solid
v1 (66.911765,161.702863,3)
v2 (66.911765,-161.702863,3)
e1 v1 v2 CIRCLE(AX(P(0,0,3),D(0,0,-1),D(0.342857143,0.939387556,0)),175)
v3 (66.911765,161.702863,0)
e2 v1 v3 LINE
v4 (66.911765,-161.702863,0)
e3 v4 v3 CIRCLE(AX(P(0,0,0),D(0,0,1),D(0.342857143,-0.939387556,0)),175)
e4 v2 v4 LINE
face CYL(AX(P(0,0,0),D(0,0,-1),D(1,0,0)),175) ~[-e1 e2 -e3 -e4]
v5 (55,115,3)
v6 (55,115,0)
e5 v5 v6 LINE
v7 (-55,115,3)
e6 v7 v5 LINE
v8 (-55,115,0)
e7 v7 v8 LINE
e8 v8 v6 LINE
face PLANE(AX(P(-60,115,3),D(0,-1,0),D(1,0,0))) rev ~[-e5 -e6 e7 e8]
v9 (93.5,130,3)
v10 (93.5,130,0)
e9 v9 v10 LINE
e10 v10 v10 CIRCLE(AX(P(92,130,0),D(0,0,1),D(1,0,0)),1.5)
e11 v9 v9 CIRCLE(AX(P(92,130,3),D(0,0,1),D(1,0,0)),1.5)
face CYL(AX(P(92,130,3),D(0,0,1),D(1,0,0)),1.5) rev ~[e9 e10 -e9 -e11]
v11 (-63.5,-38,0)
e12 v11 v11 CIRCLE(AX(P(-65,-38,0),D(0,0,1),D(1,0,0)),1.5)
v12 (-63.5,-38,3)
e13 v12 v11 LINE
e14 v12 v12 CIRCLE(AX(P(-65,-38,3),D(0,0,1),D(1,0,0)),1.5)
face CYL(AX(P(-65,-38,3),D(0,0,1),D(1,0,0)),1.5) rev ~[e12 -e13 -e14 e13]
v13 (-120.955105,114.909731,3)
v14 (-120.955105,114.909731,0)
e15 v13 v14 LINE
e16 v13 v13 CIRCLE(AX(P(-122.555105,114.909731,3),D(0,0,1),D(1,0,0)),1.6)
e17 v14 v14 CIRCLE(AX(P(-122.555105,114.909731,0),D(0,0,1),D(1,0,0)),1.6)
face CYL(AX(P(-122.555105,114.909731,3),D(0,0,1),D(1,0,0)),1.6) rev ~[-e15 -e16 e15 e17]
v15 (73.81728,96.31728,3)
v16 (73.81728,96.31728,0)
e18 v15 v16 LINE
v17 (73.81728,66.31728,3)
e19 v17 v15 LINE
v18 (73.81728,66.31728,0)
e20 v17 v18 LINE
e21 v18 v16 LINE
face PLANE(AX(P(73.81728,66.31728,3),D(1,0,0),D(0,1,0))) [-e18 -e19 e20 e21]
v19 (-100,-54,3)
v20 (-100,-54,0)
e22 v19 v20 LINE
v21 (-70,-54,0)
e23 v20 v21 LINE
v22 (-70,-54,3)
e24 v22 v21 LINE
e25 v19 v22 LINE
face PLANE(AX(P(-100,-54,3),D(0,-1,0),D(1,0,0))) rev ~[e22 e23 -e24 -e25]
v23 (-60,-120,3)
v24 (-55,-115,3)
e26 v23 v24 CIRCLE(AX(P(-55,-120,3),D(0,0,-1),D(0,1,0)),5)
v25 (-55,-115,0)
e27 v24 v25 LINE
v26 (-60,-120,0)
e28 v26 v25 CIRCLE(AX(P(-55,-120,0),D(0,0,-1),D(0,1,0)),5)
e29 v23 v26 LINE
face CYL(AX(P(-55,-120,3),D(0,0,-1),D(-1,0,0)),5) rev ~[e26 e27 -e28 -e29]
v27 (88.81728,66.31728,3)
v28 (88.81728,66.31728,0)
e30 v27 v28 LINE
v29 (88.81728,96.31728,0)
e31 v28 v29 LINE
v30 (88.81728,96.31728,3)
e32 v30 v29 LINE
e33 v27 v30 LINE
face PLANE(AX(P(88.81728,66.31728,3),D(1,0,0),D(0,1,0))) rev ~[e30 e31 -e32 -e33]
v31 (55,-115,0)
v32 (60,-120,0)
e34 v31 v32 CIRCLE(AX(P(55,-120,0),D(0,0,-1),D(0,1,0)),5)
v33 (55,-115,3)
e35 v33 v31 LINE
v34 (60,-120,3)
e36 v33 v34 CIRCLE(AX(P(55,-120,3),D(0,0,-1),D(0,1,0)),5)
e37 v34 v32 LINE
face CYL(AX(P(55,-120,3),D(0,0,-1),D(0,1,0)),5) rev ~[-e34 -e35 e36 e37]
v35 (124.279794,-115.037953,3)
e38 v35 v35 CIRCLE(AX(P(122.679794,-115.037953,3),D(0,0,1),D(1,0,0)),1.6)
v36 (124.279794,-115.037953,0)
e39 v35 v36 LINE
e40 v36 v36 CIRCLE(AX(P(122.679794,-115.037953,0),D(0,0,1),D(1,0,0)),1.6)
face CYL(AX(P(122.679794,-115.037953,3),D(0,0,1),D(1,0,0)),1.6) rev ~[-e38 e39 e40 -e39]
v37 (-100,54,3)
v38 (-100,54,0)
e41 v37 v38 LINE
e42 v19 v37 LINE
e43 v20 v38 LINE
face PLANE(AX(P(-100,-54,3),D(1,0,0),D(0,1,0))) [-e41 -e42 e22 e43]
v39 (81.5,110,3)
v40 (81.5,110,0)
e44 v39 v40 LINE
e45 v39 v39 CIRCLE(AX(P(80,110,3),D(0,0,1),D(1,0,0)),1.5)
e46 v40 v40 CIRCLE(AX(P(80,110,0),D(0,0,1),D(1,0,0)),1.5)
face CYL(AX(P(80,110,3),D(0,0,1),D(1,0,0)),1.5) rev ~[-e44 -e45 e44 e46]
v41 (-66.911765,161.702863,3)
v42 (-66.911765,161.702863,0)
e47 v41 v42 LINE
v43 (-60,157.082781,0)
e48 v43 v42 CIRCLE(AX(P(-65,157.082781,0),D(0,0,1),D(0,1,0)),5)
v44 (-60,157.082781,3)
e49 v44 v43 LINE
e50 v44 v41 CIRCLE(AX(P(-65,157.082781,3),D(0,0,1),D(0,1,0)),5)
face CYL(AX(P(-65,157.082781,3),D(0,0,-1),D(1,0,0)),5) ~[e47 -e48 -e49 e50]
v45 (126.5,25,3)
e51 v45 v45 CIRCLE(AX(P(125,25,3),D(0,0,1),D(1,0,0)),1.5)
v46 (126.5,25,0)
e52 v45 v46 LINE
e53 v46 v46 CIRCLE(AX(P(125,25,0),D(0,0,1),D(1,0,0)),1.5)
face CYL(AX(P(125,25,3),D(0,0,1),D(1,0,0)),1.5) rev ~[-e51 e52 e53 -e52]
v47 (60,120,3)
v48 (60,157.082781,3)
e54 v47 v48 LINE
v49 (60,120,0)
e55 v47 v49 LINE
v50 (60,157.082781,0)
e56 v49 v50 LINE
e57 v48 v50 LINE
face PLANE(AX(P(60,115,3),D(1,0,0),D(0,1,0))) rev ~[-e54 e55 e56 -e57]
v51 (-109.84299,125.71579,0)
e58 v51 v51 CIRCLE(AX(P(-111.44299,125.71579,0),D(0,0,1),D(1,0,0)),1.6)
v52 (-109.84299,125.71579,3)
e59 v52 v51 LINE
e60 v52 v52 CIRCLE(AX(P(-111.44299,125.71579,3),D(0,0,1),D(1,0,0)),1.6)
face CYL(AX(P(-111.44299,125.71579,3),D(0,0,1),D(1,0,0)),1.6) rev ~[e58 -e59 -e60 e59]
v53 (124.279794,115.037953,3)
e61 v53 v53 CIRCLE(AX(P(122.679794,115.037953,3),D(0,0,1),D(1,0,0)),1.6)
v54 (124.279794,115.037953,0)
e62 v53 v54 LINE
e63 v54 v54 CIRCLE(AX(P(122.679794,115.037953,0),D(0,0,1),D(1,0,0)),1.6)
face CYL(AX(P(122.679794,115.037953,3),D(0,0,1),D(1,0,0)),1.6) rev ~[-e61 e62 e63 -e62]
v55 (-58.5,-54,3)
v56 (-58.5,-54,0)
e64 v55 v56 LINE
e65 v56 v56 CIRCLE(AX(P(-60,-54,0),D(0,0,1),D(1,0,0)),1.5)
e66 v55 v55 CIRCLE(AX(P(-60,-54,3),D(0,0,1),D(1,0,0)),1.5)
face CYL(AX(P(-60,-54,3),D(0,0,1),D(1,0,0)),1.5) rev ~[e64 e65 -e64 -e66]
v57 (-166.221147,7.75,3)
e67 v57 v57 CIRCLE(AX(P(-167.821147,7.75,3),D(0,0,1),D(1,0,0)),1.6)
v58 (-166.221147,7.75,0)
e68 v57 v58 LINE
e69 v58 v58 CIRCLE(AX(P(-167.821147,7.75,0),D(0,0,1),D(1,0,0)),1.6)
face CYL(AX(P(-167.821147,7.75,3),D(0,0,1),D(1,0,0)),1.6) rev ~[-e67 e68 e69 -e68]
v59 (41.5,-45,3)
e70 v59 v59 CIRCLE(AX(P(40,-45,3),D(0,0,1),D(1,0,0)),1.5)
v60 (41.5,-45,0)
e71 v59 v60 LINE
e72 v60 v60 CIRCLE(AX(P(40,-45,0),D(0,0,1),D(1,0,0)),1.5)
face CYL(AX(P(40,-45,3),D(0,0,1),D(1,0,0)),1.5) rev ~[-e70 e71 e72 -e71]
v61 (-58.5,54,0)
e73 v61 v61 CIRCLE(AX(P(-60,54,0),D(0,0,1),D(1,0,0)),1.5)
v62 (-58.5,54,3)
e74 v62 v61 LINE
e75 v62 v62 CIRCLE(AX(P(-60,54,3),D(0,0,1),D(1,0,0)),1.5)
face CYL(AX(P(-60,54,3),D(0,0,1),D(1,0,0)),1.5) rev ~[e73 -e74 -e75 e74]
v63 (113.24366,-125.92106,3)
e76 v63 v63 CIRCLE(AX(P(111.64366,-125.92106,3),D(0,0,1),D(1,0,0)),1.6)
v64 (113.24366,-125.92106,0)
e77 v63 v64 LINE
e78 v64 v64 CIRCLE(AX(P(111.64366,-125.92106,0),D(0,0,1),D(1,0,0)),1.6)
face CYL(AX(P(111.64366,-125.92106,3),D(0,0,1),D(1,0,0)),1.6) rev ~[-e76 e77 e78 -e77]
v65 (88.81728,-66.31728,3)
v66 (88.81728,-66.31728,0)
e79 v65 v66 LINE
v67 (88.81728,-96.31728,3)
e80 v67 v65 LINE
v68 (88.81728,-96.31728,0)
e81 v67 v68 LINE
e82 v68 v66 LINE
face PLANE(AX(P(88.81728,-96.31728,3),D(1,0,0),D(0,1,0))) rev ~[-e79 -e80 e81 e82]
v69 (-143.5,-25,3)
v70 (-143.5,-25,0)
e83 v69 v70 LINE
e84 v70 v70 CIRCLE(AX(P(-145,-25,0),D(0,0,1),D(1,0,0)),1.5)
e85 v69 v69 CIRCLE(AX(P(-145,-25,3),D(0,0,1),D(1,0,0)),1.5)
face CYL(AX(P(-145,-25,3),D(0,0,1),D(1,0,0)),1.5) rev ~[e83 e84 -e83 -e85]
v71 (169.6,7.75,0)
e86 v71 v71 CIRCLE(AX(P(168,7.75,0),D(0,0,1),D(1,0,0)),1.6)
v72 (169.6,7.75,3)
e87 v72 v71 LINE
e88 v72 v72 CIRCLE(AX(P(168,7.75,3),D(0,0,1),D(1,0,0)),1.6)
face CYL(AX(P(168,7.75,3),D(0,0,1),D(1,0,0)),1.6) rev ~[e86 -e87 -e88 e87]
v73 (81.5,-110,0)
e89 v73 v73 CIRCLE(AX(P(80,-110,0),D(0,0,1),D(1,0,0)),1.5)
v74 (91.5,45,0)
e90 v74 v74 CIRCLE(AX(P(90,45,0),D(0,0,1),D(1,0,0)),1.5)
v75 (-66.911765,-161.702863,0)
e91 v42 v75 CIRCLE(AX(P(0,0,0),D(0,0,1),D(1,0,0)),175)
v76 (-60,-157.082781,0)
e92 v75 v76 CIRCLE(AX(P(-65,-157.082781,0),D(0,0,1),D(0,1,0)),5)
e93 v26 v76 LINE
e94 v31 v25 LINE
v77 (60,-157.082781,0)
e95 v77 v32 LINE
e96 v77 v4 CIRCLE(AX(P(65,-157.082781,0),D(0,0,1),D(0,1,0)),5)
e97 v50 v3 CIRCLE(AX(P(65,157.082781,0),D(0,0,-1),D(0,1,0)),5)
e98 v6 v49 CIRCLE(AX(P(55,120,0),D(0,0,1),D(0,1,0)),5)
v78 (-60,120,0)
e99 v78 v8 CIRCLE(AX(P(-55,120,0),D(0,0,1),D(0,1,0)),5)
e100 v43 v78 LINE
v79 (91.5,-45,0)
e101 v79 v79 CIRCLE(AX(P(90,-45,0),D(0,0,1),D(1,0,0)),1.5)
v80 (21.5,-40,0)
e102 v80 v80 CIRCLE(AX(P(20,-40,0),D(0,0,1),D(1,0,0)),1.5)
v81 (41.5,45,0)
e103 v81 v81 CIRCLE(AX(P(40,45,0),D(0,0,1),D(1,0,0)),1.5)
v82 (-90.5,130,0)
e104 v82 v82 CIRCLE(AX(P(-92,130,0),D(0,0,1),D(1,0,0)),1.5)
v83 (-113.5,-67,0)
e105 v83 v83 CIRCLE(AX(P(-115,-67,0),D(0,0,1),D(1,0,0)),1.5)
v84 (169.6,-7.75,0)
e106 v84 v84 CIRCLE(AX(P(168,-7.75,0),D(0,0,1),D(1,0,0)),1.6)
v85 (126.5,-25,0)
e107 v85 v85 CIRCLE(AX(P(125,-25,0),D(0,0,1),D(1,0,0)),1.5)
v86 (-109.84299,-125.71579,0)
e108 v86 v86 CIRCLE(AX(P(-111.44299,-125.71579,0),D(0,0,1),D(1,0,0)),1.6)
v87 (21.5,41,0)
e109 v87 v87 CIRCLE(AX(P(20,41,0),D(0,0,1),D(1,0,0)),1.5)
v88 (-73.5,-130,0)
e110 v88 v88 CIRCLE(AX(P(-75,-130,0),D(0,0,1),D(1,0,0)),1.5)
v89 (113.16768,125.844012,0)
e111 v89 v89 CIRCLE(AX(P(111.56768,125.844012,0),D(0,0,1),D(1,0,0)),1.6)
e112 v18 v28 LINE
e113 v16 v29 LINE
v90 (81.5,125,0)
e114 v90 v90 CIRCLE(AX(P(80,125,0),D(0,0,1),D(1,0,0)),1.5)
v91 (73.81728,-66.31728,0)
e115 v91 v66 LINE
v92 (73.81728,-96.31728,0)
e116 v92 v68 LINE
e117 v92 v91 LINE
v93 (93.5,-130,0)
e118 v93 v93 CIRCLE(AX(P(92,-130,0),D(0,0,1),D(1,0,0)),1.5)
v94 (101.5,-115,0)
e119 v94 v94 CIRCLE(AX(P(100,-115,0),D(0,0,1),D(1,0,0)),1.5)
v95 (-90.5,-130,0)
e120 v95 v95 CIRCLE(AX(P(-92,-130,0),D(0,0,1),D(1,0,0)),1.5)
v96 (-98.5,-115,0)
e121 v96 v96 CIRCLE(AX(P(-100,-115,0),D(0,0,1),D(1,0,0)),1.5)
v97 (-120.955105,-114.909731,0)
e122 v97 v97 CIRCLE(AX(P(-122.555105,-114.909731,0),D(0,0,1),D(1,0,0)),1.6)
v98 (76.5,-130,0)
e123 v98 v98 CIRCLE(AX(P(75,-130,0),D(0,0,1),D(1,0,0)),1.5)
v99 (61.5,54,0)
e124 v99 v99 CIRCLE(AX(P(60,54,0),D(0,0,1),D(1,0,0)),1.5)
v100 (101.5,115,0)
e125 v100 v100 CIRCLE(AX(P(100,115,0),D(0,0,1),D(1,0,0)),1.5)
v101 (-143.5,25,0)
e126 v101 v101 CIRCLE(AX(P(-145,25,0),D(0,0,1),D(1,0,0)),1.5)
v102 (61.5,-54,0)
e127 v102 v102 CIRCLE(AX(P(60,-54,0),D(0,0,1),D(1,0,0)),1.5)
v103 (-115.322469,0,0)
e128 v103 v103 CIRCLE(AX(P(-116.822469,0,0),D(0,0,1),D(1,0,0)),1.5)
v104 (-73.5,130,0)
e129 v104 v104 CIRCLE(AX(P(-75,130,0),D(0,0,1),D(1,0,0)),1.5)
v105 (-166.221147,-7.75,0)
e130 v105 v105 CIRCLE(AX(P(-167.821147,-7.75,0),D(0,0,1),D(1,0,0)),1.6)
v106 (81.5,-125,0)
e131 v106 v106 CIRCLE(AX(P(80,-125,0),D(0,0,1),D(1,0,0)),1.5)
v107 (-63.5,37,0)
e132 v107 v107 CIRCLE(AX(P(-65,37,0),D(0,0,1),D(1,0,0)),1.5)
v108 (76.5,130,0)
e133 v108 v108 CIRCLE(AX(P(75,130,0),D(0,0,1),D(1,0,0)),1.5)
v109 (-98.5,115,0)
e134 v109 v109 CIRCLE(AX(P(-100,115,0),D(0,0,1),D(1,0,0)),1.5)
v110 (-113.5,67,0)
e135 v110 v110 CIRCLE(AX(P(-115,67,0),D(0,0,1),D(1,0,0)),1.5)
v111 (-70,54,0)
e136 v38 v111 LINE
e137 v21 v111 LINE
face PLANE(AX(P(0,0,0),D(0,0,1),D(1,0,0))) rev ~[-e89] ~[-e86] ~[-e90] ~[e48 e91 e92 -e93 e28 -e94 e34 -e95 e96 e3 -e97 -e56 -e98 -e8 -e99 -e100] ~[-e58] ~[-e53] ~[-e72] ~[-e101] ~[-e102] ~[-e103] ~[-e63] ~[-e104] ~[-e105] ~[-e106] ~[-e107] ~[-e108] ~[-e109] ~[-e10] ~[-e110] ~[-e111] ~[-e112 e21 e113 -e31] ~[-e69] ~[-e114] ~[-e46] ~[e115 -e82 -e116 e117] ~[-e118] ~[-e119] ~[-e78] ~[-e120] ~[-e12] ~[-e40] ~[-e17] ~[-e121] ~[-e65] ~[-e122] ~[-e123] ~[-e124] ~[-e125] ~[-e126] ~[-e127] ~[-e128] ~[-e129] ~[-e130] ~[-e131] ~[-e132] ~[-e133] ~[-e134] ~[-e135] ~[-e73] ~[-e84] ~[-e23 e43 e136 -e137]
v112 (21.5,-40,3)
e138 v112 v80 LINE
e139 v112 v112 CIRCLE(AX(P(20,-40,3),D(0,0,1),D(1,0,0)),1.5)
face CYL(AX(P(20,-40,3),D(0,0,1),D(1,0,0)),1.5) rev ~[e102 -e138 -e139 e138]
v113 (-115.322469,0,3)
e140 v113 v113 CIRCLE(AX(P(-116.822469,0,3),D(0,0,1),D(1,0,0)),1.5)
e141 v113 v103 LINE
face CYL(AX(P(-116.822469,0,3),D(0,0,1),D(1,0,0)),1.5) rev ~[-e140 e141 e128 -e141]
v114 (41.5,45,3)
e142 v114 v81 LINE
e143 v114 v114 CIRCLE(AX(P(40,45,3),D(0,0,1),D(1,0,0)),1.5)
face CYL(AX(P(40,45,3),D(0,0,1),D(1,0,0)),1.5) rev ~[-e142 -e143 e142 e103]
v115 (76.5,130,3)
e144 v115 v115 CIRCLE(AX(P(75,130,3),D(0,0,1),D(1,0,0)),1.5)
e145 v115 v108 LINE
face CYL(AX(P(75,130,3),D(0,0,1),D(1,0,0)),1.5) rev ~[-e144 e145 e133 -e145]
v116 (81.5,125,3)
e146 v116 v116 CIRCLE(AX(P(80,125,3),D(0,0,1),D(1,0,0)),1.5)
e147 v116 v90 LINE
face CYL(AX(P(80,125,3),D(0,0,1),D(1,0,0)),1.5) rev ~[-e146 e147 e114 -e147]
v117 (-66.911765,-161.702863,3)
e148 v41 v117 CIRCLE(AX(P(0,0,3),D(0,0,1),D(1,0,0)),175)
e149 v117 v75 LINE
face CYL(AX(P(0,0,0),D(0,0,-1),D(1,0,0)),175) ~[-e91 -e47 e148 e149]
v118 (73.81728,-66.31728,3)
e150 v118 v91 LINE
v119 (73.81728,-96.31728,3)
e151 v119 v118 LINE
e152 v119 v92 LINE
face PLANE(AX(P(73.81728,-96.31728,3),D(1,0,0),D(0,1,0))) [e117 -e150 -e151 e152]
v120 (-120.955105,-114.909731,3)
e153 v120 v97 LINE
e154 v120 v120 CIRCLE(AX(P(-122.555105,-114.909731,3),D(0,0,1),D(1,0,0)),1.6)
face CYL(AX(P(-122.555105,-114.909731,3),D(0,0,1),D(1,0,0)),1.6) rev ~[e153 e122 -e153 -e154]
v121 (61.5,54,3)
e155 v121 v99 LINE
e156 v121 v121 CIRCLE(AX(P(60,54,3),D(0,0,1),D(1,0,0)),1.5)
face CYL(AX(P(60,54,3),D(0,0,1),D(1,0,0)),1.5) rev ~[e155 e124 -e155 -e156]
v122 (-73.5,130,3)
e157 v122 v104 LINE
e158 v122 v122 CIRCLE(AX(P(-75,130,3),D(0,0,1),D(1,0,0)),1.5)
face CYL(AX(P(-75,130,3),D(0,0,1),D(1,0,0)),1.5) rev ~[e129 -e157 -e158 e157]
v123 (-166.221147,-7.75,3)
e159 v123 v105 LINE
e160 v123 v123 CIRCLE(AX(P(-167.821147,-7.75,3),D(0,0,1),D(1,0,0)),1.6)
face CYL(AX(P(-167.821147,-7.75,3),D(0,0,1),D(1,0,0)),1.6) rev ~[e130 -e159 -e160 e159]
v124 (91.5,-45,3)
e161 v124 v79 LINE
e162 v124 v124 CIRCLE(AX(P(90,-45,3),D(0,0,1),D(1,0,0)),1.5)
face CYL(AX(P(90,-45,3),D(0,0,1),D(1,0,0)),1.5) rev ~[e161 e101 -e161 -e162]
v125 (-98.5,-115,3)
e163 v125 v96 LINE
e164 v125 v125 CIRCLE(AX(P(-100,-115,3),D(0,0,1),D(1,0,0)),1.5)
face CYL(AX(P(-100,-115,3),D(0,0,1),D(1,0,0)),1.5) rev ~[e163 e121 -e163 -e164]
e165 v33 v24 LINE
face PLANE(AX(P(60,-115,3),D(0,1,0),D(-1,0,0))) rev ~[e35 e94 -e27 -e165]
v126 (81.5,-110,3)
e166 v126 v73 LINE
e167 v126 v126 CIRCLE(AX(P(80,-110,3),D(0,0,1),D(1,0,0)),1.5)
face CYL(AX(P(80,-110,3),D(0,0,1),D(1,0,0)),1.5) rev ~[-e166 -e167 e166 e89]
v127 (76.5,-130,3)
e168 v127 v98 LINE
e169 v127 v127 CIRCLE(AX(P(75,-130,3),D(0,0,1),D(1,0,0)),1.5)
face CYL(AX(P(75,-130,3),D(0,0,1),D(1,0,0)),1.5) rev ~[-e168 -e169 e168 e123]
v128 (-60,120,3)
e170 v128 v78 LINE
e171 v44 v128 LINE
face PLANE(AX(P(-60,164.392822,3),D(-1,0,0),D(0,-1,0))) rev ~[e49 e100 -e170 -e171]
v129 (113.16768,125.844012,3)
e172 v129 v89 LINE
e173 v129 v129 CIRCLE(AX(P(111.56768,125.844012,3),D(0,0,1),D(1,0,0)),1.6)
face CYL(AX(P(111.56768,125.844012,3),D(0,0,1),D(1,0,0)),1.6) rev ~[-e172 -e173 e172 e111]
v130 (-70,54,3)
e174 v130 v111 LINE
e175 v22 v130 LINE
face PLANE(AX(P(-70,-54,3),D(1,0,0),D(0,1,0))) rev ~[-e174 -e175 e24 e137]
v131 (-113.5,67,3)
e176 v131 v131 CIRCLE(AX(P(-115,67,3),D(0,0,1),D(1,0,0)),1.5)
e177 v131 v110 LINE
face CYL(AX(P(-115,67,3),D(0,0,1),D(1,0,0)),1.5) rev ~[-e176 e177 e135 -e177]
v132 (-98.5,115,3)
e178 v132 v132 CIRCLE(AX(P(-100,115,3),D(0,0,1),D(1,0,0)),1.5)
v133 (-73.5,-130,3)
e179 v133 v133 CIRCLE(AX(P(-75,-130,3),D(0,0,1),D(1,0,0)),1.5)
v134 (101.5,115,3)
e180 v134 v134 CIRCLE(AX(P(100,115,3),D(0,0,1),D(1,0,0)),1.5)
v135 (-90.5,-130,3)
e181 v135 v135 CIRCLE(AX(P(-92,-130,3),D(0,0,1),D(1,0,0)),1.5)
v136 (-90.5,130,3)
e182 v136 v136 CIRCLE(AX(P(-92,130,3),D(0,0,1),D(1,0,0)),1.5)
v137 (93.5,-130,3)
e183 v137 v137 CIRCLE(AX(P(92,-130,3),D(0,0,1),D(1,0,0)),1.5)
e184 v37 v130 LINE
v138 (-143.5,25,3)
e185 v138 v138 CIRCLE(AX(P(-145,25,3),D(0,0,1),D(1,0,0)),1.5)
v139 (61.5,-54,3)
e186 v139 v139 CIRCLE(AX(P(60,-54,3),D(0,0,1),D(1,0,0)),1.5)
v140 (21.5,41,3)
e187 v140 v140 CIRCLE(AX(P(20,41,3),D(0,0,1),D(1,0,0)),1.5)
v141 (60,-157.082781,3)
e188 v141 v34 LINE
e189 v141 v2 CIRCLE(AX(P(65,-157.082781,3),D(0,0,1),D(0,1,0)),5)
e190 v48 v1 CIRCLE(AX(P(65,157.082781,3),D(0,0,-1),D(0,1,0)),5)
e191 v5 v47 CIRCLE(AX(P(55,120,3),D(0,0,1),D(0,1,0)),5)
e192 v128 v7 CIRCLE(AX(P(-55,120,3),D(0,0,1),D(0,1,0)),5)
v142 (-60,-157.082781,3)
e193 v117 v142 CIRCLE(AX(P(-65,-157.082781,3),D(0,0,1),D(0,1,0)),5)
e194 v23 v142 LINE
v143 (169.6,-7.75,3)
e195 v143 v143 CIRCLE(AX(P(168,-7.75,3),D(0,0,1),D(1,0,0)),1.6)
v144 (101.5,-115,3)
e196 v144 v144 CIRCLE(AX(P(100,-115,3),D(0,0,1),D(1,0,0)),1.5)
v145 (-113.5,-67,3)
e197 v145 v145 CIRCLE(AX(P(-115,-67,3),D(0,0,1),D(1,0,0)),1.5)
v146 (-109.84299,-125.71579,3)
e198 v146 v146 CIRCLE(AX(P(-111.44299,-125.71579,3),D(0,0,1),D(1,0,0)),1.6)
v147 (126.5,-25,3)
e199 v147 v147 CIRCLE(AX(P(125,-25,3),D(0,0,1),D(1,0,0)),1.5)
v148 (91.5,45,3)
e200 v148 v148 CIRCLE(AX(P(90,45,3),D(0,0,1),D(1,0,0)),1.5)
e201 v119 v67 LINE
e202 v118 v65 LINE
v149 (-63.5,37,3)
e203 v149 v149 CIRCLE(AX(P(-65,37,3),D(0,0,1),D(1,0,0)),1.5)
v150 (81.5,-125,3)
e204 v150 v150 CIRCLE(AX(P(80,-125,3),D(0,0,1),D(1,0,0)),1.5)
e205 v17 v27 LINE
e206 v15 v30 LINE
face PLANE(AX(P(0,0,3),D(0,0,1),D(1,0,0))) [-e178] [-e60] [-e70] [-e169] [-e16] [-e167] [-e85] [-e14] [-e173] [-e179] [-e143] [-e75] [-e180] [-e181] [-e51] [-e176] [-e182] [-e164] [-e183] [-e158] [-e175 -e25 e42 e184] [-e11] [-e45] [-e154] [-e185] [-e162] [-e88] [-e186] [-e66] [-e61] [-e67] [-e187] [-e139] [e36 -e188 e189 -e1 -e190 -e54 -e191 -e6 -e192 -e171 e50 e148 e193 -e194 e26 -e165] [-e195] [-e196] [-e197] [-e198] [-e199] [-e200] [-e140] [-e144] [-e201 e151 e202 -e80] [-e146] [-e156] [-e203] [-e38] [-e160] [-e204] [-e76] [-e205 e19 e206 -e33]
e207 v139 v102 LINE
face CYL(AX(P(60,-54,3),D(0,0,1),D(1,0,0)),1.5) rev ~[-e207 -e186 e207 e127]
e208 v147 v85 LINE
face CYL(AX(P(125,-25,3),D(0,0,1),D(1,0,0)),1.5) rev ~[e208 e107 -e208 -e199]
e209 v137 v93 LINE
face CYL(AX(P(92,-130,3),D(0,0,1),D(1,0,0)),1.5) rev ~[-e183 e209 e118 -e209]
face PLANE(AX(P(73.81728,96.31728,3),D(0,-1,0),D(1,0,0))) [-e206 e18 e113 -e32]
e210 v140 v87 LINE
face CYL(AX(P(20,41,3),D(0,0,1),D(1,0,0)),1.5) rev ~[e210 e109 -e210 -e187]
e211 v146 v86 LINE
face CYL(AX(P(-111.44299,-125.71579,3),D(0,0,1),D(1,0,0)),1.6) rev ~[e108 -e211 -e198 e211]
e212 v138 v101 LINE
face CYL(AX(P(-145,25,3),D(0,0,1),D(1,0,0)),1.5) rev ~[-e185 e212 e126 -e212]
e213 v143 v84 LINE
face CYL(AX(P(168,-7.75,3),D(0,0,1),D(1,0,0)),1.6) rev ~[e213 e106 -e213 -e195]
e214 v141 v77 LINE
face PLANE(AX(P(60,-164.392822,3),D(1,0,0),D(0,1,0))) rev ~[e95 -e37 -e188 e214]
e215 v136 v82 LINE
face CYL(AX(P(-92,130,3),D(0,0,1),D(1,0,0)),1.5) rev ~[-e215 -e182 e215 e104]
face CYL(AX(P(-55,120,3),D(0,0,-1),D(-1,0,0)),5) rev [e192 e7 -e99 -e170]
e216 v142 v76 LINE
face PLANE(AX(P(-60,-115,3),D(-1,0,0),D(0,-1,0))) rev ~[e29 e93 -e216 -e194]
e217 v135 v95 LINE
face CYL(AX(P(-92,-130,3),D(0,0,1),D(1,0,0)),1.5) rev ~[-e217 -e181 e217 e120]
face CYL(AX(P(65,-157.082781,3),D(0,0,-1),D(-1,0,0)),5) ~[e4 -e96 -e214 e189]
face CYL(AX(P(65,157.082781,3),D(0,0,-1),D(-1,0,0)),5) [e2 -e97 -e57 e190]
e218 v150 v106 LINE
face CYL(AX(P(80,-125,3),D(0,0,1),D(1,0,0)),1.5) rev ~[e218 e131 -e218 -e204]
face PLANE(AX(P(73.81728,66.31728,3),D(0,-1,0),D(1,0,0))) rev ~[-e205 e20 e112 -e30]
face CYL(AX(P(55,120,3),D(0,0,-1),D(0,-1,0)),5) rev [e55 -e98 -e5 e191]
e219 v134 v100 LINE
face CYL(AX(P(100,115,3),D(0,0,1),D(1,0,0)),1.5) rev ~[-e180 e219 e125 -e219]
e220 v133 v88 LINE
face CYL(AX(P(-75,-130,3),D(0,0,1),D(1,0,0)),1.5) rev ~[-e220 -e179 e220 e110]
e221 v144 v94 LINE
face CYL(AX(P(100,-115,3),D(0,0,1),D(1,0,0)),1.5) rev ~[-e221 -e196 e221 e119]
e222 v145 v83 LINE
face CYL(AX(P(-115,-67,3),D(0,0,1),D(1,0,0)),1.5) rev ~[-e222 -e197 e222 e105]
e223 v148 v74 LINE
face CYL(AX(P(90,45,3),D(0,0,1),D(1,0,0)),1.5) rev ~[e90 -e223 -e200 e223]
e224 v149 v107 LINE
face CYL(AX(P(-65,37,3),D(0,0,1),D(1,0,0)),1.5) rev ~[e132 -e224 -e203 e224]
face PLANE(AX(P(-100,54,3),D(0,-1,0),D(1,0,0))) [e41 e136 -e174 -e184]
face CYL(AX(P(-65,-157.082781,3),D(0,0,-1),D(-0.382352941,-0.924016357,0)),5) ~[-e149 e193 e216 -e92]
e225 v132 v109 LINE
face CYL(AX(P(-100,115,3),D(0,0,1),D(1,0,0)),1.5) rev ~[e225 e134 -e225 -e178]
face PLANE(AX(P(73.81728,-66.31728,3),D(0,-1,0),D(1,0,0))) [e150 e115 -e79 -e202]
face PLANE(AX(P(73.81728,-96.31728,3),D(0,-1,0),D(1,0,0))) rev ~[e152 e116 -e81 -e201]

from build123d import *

# Parameters (mm, degrees)
SKETCH_1_R             = 175
EXTRUDE_1_DEPTH        = 3
CUT_EXTRUDE_1_DEPTH    = 3
FILLET_1_R             = 5
FILLET_2_R             = 5
FILLET_3_R             = 5
SKETCH_5_R             = 1.5
CUT_EXTRUDE_4_DEPTH    = 3
SKETCH_6_R             = 1.5
CUT_EXTRUDE_5_DEPTH    = 3
SKETCH_7_W             = 30
SKETCH_7_H             = 108
CUT_EXTRUDE_6_DEPTH    = 3
SKETCH_8_R             = 1.5
CUT_EXTRUDE_7_DEPTH    = 3
SKETCH_9_R             = 1.5
CUT_EXTRUDE_8_DEPTH    = 10
SKETCH_10_R            = 1.6
CUT_EXTRUDE_5158_DEPTH = 10
SKETCH_11_W            = 15
SKETCH_11_H            = 30
CUT_EXTRUDE_10_DEPTH   = 10
SKETCH_19_R            = 1.6
CUT_EXTRUDE_8157_DEPTH = 10
SKETCH_21_R            = 1.5
WEB_DEPTH              = 10
SKETCH_22_R            = 1.5
WEB_2_DEPTH            = 10
SKETCH_28_R            = 1.5
CUT_EXTRUDE_9035_DEPTH = 10
SKETCH_29_R            = 1.5
CUT_EXTRUDE_9316_DEPTH = 10
SKETCH_31_R            = 1.5
CUT_EXTRUDE_9726_DEPTH = 10


with BuildPart() as part:
    # ｽｹｯﾁ1 → ﾎﾞｽ - 押し出し1 (new body)
    with BuildSketch(Plane.XY):
        Circle(SKETCH_1_R)
    extrude(amount=EXTRUDE_1_DEPTH)

    # ｽｹｯﾁ2 → ｶｯﾄ - 押し出し1 (cut)
    with BuildSketch(Plane.XY.offset(3)):
        with BuildLine():
            Line((-60, 115), (0, 115))
            Line((0, 115), (0, 175))
            ThreePointArc((0, 175), (-30.465194158, 172.327803749), (-60, 164.392822228))
            Line((-60, 164.392822228), (-60, 115))
        make_face()
        with BuildLine():
            Line((0, 175), (0, 115))
            Line((0, 115), (60, 115))
            Line((60, 115), (60, 164.392822228))
            ThreePointArc((60, 164.392822228), (30.465194158, 172.327803749), (0, 175))
        make_face()
        with BuildLine():
            Line((0, -175), (0, -115))
            Line((0, -115), (-60, -115))
            Line((-60, -115), (-60, -164.392822228))
            ThreePointArc((-60, -164.392822228), (-30.465194158, -172.327803749), (0, -175))
        make_face()
        with BuildLine():
            Line((60, -115), (0, -115))
            Line((0, -115), (0, -175))
            ThreePointArc((0, -175), (30.465194158, -172.327803749), (60, -164.392822228))
            Line((60, -164.392822228), (60, -115))
        make_face()
    extrude(amount=-CUT_EXTRUDE_1_DEPTH, mode=Mode.SUBTRACT)

    # ﾌｨﾚｯﾄ1
    fillet_1_edges = [part.edges().sort_by_distance(p)[0] for p in [
        (-60, 164.392822228, 1.5),
    ]]
    fillet(fillet_1_edges, radius=FILLET_1_R)

    # ﾌｨﾚｯﾄ2
    fillet_2_edges = [part.edges().sort_by_distance(p)[0] for p in [
        (-60, 115, 1.5),
        (60, 164.392822228, 1.5),
        (60, 115, 1.5),
    ]]
    fillet(fillet_2_edges, radius=FILLET_2_R)

    # ﾌｨﾚｯﾄ3
    fillet_3_edges = [part.edges().sort_by_distance(p)[0] for p in [
        (-60, -115, 1.5),
        (60, -115, 1.5),
        (60, -164.392822228, 1.5),
        (-60, -164.392822228, 1.5),
    ]]
    fillet(fillet_3_edges, radius=FILLET_3_R)

    # ｽｹｯﾁ5 → ｶｯﾄ - 押し出し4 (cut)
    with BuildSketch(Plane.XY.offset(3)):
        with Locations((-100, -115)):
            Circle(SKETCH_5_R)
        with Locations((100, -115)):
            Circle(SKETCH_5_R)
        with Locations((100, 115)):
            Circle(SKETCH_5_R)
        with Locations((-100, 115)):
            Circle(SKETCH_5_R)
    extrude(amount=-CUT_EXTRUDE_4_DEPTH, mode=Mode.SUBTRACT)

    # ｽｹｯﾁ6 → ｶｯﾄ - 押し出し5 (cut)
    with BuildSketch(Plane.XY.offset(3)):
        with Locations((-60, 54)):
            Circle(SKETCH_6_R)
        with Locations((60, 54)):
            Circle(SKETCH_6_R)
        with Locations((-60, -54)):
            Circle(SKETCH_6_R)
        with Locations((60, -54)):
            Circle(SKETCH_6_R)
    extrude(amount=-CUT_EXTRUDE_5_DEPTH, mode=Mode.SUBTRACT)

    # ｽｹｯﾁ7 → ｶｯﾄ - 押し出し6 (cut)
    with BuildSketch(Plane.XY.offset(3)):
        with Locations((-85, 0)):
            Rectangle(SKETCH_7_W, SKETCH_7_H)
    extrude(amount=-CUT_EXTRUDE_6_DEPTH, mode=Mode.SUBTRACT)

    # ｽｹｯﾁ8 → ｶｯﾄ - 押し出し7 (cut)
    with BuildSketch(Plane.XY.offset(3)):
        with Locations((-115, -67)):
            Circle(SKETCH_8_R)
        with Locations((-116.822468618, 0)):
            Circle(SKETCH_8_R)
        with Locations((-115, 67)):
            Circle(SKETCH_8_R)
    extrude(amount=-CUT_EXTRUDE_7_DEPTH, mode=Mode.SUBTRACT)

    # ｽｹｯﾁ9 → ｶｯﾄ - 押し出し8 (cut)
    with BuildSketch(Plane.XY.offset(3)):
        with Locations((-65, 37)):
            Circle(SKETCH_9_R)
        with Locations((20, 41)):
            Circle(SKETCH_9_R)
        with Locations((-65, -38)):
            Circle(SKETCH_9_R)
        with Locations((20, -40)):
            Circle(SKETCH_9_R)
    extrude(amount=-CUT_EXTRUDE_8_DEPTH, mode=Mode.SUBTRACT)

    # ｽｹｯﾁ10 → Cut-Extrude 5158 (cut)
    with BuildSketch(Plane.XY.offset(3)):
        with Locations((111.643659725, -125.921059639)):
            Circle(SKETCH_10_R)
        with Locations((122.679794489, -115.037952538)):
            Circle(SKETCH_10_R)
        with Locations((168, 7.75)):
            Circle(SKETCH_10_R)
        with Locations((168, -7.75)):
            Circle(SKETCH_10_R)
        with Locations((111.56768007, 125.844011632)):
            Circle(SKETCH_10_R)
        with Locations((122.679794489, 115.037952538)):
            Circle(SKETCH_10_R)
    extrude(amount=-CUT_EXTRUDE_5158_DEPTH, mode=Mode.SUBTRACT)

    # ｽｹｯﾁ11 → ｶｯﾄ - 押し出し10 (cut)
    with BuildSketch(Plane.XY.offset(3)):
        with Locations((81.317279836, 81.317279836)):
            Rectangle(SKETCH_11_W, SKETCH_11_H)
        with Locations((81.317279836, -81.317279836)):
            Rectangle(SKETCH_11_W, SKETCH_11_H)
    extrude(amount=-CUT_EXTRUDE_10_DEPTH, mode=Mode.SUBTRACT)

    # ｽｹｯﾁ19 → Cut-Extrude 8157 (cut)
    with BuildSketch(Plane.XY.offset(3)):
        with Locations((-111.442990249, 125.715790275)):
            Circle(SKETCH_19_R)
        with Locations((-122.555104667, 114.909731181)):
            Circle(SKETCH_19_R)
        with Locations((-167.821147356, 7.75)):
            Circle(SKETCH_19_R)
        with Locations((-167.821147356, -7.75)):
            Circle(SKETCH_19_R)
        with Locations((-122.555104667, -114.909731181)):
            Circle(SKETCH_19_R)
        with Locations((-111.442990249, -125.715790275)):
            Circle(SKETCH_19_R)
    extrude(amount=-CUT_EXTRUDE_8157_DEPTH, mode=Mode.SUBTRACT)

    # ｽｹｯﾁ21 → Web (cut)
    with BuildSketch(Plane.XY.offset(3)):
        with Locations((-145, 25)):
            Circle(SKETCH_21_R)
        with Locations((-145, -25)):
            Circle(SKETCH_21_R)
    extrude(amount=-WEB_DEPTH, mode=Mode.SUBTRACT)

    # ｽｹｯﾁ22 → Web 2 (cut)
    with BuildSketch(Plane.XY.offset(3)):
        with Locations((125, 25)):
            Circle(SKETCH_22_R)
        with Locations((125, -25)):
            Circle(SKETCH_22_R)
    extrude(amount=-WEB_2_DEPTH, mode=Mode.SUBTRACT)

    # ｽｹｯﾁ28 → Cut-Extrude 9035 (cut)
    with BuildSketch(Plane.XY.offset(3)):
        with Locations((40, 45)):
            Circle(SKETCH_28_R)
        with Locations((90, 45)):
            Circle(SKETCH_28_R)
        with Locations((40, -45)):
            Circle(SKETCH_28_R)
        with Locations((90, -45)):
            Circle(SKETCH_28_R)
    extrude(amount=-CUT_EXTRUDE_9035_DEPTH, mode=Mode.SUBTRACT)

    # ｽｹｯﾁ29 → Cut-Extrude 9316 (cut)
    with BuildSketch(Plane.XY.offset(3)):
        with Locations((80, 125)):
            Circle(SKETCH_29_R)
        with Locations((80, 110)):
            Circle(SKETCH_29_R)
        with Locations((80, -110)):
            Circle(SKETCH_29_R)
        with Locations((80, -125)):
            Circle(SKETCH_29_R)
    extrude(amount=-CUT_EXTRUDE_9316_DEPTH, mode=Mode.SUBTRACT)

    # ｽｹｯﾁ31 → Cut-Extrude 9726 (cut)
    with BuildSketch(Plane.XY.offset(3)):
        with Locations((-92, 130)):
            Circle(SKETCH_31_R)
        with Locations((-75, 130)):
            Circle(SKETCH_31_R)
        with Locations((75, 130)):
            Circle(SKETCH_31_R)
        with Locations((92, 130)):
            Circle(SKETCH_31_R)
        with Locations((92, -130)):
            Circle(SKETCH_31_R)
        with Locations((75, -130)):
            Circle(SKETCH_31_R)
        with Locations((-75, -130)):
            Circle(SKETCH_31_R)
        with Locations((-92, -130)):
            Circle(SKETCH_31_R)
    extrude(amount=-CUT_EXTRUDE_9726_DEPTH, mode=Mode.SUBTRACT)


solid = part.part
